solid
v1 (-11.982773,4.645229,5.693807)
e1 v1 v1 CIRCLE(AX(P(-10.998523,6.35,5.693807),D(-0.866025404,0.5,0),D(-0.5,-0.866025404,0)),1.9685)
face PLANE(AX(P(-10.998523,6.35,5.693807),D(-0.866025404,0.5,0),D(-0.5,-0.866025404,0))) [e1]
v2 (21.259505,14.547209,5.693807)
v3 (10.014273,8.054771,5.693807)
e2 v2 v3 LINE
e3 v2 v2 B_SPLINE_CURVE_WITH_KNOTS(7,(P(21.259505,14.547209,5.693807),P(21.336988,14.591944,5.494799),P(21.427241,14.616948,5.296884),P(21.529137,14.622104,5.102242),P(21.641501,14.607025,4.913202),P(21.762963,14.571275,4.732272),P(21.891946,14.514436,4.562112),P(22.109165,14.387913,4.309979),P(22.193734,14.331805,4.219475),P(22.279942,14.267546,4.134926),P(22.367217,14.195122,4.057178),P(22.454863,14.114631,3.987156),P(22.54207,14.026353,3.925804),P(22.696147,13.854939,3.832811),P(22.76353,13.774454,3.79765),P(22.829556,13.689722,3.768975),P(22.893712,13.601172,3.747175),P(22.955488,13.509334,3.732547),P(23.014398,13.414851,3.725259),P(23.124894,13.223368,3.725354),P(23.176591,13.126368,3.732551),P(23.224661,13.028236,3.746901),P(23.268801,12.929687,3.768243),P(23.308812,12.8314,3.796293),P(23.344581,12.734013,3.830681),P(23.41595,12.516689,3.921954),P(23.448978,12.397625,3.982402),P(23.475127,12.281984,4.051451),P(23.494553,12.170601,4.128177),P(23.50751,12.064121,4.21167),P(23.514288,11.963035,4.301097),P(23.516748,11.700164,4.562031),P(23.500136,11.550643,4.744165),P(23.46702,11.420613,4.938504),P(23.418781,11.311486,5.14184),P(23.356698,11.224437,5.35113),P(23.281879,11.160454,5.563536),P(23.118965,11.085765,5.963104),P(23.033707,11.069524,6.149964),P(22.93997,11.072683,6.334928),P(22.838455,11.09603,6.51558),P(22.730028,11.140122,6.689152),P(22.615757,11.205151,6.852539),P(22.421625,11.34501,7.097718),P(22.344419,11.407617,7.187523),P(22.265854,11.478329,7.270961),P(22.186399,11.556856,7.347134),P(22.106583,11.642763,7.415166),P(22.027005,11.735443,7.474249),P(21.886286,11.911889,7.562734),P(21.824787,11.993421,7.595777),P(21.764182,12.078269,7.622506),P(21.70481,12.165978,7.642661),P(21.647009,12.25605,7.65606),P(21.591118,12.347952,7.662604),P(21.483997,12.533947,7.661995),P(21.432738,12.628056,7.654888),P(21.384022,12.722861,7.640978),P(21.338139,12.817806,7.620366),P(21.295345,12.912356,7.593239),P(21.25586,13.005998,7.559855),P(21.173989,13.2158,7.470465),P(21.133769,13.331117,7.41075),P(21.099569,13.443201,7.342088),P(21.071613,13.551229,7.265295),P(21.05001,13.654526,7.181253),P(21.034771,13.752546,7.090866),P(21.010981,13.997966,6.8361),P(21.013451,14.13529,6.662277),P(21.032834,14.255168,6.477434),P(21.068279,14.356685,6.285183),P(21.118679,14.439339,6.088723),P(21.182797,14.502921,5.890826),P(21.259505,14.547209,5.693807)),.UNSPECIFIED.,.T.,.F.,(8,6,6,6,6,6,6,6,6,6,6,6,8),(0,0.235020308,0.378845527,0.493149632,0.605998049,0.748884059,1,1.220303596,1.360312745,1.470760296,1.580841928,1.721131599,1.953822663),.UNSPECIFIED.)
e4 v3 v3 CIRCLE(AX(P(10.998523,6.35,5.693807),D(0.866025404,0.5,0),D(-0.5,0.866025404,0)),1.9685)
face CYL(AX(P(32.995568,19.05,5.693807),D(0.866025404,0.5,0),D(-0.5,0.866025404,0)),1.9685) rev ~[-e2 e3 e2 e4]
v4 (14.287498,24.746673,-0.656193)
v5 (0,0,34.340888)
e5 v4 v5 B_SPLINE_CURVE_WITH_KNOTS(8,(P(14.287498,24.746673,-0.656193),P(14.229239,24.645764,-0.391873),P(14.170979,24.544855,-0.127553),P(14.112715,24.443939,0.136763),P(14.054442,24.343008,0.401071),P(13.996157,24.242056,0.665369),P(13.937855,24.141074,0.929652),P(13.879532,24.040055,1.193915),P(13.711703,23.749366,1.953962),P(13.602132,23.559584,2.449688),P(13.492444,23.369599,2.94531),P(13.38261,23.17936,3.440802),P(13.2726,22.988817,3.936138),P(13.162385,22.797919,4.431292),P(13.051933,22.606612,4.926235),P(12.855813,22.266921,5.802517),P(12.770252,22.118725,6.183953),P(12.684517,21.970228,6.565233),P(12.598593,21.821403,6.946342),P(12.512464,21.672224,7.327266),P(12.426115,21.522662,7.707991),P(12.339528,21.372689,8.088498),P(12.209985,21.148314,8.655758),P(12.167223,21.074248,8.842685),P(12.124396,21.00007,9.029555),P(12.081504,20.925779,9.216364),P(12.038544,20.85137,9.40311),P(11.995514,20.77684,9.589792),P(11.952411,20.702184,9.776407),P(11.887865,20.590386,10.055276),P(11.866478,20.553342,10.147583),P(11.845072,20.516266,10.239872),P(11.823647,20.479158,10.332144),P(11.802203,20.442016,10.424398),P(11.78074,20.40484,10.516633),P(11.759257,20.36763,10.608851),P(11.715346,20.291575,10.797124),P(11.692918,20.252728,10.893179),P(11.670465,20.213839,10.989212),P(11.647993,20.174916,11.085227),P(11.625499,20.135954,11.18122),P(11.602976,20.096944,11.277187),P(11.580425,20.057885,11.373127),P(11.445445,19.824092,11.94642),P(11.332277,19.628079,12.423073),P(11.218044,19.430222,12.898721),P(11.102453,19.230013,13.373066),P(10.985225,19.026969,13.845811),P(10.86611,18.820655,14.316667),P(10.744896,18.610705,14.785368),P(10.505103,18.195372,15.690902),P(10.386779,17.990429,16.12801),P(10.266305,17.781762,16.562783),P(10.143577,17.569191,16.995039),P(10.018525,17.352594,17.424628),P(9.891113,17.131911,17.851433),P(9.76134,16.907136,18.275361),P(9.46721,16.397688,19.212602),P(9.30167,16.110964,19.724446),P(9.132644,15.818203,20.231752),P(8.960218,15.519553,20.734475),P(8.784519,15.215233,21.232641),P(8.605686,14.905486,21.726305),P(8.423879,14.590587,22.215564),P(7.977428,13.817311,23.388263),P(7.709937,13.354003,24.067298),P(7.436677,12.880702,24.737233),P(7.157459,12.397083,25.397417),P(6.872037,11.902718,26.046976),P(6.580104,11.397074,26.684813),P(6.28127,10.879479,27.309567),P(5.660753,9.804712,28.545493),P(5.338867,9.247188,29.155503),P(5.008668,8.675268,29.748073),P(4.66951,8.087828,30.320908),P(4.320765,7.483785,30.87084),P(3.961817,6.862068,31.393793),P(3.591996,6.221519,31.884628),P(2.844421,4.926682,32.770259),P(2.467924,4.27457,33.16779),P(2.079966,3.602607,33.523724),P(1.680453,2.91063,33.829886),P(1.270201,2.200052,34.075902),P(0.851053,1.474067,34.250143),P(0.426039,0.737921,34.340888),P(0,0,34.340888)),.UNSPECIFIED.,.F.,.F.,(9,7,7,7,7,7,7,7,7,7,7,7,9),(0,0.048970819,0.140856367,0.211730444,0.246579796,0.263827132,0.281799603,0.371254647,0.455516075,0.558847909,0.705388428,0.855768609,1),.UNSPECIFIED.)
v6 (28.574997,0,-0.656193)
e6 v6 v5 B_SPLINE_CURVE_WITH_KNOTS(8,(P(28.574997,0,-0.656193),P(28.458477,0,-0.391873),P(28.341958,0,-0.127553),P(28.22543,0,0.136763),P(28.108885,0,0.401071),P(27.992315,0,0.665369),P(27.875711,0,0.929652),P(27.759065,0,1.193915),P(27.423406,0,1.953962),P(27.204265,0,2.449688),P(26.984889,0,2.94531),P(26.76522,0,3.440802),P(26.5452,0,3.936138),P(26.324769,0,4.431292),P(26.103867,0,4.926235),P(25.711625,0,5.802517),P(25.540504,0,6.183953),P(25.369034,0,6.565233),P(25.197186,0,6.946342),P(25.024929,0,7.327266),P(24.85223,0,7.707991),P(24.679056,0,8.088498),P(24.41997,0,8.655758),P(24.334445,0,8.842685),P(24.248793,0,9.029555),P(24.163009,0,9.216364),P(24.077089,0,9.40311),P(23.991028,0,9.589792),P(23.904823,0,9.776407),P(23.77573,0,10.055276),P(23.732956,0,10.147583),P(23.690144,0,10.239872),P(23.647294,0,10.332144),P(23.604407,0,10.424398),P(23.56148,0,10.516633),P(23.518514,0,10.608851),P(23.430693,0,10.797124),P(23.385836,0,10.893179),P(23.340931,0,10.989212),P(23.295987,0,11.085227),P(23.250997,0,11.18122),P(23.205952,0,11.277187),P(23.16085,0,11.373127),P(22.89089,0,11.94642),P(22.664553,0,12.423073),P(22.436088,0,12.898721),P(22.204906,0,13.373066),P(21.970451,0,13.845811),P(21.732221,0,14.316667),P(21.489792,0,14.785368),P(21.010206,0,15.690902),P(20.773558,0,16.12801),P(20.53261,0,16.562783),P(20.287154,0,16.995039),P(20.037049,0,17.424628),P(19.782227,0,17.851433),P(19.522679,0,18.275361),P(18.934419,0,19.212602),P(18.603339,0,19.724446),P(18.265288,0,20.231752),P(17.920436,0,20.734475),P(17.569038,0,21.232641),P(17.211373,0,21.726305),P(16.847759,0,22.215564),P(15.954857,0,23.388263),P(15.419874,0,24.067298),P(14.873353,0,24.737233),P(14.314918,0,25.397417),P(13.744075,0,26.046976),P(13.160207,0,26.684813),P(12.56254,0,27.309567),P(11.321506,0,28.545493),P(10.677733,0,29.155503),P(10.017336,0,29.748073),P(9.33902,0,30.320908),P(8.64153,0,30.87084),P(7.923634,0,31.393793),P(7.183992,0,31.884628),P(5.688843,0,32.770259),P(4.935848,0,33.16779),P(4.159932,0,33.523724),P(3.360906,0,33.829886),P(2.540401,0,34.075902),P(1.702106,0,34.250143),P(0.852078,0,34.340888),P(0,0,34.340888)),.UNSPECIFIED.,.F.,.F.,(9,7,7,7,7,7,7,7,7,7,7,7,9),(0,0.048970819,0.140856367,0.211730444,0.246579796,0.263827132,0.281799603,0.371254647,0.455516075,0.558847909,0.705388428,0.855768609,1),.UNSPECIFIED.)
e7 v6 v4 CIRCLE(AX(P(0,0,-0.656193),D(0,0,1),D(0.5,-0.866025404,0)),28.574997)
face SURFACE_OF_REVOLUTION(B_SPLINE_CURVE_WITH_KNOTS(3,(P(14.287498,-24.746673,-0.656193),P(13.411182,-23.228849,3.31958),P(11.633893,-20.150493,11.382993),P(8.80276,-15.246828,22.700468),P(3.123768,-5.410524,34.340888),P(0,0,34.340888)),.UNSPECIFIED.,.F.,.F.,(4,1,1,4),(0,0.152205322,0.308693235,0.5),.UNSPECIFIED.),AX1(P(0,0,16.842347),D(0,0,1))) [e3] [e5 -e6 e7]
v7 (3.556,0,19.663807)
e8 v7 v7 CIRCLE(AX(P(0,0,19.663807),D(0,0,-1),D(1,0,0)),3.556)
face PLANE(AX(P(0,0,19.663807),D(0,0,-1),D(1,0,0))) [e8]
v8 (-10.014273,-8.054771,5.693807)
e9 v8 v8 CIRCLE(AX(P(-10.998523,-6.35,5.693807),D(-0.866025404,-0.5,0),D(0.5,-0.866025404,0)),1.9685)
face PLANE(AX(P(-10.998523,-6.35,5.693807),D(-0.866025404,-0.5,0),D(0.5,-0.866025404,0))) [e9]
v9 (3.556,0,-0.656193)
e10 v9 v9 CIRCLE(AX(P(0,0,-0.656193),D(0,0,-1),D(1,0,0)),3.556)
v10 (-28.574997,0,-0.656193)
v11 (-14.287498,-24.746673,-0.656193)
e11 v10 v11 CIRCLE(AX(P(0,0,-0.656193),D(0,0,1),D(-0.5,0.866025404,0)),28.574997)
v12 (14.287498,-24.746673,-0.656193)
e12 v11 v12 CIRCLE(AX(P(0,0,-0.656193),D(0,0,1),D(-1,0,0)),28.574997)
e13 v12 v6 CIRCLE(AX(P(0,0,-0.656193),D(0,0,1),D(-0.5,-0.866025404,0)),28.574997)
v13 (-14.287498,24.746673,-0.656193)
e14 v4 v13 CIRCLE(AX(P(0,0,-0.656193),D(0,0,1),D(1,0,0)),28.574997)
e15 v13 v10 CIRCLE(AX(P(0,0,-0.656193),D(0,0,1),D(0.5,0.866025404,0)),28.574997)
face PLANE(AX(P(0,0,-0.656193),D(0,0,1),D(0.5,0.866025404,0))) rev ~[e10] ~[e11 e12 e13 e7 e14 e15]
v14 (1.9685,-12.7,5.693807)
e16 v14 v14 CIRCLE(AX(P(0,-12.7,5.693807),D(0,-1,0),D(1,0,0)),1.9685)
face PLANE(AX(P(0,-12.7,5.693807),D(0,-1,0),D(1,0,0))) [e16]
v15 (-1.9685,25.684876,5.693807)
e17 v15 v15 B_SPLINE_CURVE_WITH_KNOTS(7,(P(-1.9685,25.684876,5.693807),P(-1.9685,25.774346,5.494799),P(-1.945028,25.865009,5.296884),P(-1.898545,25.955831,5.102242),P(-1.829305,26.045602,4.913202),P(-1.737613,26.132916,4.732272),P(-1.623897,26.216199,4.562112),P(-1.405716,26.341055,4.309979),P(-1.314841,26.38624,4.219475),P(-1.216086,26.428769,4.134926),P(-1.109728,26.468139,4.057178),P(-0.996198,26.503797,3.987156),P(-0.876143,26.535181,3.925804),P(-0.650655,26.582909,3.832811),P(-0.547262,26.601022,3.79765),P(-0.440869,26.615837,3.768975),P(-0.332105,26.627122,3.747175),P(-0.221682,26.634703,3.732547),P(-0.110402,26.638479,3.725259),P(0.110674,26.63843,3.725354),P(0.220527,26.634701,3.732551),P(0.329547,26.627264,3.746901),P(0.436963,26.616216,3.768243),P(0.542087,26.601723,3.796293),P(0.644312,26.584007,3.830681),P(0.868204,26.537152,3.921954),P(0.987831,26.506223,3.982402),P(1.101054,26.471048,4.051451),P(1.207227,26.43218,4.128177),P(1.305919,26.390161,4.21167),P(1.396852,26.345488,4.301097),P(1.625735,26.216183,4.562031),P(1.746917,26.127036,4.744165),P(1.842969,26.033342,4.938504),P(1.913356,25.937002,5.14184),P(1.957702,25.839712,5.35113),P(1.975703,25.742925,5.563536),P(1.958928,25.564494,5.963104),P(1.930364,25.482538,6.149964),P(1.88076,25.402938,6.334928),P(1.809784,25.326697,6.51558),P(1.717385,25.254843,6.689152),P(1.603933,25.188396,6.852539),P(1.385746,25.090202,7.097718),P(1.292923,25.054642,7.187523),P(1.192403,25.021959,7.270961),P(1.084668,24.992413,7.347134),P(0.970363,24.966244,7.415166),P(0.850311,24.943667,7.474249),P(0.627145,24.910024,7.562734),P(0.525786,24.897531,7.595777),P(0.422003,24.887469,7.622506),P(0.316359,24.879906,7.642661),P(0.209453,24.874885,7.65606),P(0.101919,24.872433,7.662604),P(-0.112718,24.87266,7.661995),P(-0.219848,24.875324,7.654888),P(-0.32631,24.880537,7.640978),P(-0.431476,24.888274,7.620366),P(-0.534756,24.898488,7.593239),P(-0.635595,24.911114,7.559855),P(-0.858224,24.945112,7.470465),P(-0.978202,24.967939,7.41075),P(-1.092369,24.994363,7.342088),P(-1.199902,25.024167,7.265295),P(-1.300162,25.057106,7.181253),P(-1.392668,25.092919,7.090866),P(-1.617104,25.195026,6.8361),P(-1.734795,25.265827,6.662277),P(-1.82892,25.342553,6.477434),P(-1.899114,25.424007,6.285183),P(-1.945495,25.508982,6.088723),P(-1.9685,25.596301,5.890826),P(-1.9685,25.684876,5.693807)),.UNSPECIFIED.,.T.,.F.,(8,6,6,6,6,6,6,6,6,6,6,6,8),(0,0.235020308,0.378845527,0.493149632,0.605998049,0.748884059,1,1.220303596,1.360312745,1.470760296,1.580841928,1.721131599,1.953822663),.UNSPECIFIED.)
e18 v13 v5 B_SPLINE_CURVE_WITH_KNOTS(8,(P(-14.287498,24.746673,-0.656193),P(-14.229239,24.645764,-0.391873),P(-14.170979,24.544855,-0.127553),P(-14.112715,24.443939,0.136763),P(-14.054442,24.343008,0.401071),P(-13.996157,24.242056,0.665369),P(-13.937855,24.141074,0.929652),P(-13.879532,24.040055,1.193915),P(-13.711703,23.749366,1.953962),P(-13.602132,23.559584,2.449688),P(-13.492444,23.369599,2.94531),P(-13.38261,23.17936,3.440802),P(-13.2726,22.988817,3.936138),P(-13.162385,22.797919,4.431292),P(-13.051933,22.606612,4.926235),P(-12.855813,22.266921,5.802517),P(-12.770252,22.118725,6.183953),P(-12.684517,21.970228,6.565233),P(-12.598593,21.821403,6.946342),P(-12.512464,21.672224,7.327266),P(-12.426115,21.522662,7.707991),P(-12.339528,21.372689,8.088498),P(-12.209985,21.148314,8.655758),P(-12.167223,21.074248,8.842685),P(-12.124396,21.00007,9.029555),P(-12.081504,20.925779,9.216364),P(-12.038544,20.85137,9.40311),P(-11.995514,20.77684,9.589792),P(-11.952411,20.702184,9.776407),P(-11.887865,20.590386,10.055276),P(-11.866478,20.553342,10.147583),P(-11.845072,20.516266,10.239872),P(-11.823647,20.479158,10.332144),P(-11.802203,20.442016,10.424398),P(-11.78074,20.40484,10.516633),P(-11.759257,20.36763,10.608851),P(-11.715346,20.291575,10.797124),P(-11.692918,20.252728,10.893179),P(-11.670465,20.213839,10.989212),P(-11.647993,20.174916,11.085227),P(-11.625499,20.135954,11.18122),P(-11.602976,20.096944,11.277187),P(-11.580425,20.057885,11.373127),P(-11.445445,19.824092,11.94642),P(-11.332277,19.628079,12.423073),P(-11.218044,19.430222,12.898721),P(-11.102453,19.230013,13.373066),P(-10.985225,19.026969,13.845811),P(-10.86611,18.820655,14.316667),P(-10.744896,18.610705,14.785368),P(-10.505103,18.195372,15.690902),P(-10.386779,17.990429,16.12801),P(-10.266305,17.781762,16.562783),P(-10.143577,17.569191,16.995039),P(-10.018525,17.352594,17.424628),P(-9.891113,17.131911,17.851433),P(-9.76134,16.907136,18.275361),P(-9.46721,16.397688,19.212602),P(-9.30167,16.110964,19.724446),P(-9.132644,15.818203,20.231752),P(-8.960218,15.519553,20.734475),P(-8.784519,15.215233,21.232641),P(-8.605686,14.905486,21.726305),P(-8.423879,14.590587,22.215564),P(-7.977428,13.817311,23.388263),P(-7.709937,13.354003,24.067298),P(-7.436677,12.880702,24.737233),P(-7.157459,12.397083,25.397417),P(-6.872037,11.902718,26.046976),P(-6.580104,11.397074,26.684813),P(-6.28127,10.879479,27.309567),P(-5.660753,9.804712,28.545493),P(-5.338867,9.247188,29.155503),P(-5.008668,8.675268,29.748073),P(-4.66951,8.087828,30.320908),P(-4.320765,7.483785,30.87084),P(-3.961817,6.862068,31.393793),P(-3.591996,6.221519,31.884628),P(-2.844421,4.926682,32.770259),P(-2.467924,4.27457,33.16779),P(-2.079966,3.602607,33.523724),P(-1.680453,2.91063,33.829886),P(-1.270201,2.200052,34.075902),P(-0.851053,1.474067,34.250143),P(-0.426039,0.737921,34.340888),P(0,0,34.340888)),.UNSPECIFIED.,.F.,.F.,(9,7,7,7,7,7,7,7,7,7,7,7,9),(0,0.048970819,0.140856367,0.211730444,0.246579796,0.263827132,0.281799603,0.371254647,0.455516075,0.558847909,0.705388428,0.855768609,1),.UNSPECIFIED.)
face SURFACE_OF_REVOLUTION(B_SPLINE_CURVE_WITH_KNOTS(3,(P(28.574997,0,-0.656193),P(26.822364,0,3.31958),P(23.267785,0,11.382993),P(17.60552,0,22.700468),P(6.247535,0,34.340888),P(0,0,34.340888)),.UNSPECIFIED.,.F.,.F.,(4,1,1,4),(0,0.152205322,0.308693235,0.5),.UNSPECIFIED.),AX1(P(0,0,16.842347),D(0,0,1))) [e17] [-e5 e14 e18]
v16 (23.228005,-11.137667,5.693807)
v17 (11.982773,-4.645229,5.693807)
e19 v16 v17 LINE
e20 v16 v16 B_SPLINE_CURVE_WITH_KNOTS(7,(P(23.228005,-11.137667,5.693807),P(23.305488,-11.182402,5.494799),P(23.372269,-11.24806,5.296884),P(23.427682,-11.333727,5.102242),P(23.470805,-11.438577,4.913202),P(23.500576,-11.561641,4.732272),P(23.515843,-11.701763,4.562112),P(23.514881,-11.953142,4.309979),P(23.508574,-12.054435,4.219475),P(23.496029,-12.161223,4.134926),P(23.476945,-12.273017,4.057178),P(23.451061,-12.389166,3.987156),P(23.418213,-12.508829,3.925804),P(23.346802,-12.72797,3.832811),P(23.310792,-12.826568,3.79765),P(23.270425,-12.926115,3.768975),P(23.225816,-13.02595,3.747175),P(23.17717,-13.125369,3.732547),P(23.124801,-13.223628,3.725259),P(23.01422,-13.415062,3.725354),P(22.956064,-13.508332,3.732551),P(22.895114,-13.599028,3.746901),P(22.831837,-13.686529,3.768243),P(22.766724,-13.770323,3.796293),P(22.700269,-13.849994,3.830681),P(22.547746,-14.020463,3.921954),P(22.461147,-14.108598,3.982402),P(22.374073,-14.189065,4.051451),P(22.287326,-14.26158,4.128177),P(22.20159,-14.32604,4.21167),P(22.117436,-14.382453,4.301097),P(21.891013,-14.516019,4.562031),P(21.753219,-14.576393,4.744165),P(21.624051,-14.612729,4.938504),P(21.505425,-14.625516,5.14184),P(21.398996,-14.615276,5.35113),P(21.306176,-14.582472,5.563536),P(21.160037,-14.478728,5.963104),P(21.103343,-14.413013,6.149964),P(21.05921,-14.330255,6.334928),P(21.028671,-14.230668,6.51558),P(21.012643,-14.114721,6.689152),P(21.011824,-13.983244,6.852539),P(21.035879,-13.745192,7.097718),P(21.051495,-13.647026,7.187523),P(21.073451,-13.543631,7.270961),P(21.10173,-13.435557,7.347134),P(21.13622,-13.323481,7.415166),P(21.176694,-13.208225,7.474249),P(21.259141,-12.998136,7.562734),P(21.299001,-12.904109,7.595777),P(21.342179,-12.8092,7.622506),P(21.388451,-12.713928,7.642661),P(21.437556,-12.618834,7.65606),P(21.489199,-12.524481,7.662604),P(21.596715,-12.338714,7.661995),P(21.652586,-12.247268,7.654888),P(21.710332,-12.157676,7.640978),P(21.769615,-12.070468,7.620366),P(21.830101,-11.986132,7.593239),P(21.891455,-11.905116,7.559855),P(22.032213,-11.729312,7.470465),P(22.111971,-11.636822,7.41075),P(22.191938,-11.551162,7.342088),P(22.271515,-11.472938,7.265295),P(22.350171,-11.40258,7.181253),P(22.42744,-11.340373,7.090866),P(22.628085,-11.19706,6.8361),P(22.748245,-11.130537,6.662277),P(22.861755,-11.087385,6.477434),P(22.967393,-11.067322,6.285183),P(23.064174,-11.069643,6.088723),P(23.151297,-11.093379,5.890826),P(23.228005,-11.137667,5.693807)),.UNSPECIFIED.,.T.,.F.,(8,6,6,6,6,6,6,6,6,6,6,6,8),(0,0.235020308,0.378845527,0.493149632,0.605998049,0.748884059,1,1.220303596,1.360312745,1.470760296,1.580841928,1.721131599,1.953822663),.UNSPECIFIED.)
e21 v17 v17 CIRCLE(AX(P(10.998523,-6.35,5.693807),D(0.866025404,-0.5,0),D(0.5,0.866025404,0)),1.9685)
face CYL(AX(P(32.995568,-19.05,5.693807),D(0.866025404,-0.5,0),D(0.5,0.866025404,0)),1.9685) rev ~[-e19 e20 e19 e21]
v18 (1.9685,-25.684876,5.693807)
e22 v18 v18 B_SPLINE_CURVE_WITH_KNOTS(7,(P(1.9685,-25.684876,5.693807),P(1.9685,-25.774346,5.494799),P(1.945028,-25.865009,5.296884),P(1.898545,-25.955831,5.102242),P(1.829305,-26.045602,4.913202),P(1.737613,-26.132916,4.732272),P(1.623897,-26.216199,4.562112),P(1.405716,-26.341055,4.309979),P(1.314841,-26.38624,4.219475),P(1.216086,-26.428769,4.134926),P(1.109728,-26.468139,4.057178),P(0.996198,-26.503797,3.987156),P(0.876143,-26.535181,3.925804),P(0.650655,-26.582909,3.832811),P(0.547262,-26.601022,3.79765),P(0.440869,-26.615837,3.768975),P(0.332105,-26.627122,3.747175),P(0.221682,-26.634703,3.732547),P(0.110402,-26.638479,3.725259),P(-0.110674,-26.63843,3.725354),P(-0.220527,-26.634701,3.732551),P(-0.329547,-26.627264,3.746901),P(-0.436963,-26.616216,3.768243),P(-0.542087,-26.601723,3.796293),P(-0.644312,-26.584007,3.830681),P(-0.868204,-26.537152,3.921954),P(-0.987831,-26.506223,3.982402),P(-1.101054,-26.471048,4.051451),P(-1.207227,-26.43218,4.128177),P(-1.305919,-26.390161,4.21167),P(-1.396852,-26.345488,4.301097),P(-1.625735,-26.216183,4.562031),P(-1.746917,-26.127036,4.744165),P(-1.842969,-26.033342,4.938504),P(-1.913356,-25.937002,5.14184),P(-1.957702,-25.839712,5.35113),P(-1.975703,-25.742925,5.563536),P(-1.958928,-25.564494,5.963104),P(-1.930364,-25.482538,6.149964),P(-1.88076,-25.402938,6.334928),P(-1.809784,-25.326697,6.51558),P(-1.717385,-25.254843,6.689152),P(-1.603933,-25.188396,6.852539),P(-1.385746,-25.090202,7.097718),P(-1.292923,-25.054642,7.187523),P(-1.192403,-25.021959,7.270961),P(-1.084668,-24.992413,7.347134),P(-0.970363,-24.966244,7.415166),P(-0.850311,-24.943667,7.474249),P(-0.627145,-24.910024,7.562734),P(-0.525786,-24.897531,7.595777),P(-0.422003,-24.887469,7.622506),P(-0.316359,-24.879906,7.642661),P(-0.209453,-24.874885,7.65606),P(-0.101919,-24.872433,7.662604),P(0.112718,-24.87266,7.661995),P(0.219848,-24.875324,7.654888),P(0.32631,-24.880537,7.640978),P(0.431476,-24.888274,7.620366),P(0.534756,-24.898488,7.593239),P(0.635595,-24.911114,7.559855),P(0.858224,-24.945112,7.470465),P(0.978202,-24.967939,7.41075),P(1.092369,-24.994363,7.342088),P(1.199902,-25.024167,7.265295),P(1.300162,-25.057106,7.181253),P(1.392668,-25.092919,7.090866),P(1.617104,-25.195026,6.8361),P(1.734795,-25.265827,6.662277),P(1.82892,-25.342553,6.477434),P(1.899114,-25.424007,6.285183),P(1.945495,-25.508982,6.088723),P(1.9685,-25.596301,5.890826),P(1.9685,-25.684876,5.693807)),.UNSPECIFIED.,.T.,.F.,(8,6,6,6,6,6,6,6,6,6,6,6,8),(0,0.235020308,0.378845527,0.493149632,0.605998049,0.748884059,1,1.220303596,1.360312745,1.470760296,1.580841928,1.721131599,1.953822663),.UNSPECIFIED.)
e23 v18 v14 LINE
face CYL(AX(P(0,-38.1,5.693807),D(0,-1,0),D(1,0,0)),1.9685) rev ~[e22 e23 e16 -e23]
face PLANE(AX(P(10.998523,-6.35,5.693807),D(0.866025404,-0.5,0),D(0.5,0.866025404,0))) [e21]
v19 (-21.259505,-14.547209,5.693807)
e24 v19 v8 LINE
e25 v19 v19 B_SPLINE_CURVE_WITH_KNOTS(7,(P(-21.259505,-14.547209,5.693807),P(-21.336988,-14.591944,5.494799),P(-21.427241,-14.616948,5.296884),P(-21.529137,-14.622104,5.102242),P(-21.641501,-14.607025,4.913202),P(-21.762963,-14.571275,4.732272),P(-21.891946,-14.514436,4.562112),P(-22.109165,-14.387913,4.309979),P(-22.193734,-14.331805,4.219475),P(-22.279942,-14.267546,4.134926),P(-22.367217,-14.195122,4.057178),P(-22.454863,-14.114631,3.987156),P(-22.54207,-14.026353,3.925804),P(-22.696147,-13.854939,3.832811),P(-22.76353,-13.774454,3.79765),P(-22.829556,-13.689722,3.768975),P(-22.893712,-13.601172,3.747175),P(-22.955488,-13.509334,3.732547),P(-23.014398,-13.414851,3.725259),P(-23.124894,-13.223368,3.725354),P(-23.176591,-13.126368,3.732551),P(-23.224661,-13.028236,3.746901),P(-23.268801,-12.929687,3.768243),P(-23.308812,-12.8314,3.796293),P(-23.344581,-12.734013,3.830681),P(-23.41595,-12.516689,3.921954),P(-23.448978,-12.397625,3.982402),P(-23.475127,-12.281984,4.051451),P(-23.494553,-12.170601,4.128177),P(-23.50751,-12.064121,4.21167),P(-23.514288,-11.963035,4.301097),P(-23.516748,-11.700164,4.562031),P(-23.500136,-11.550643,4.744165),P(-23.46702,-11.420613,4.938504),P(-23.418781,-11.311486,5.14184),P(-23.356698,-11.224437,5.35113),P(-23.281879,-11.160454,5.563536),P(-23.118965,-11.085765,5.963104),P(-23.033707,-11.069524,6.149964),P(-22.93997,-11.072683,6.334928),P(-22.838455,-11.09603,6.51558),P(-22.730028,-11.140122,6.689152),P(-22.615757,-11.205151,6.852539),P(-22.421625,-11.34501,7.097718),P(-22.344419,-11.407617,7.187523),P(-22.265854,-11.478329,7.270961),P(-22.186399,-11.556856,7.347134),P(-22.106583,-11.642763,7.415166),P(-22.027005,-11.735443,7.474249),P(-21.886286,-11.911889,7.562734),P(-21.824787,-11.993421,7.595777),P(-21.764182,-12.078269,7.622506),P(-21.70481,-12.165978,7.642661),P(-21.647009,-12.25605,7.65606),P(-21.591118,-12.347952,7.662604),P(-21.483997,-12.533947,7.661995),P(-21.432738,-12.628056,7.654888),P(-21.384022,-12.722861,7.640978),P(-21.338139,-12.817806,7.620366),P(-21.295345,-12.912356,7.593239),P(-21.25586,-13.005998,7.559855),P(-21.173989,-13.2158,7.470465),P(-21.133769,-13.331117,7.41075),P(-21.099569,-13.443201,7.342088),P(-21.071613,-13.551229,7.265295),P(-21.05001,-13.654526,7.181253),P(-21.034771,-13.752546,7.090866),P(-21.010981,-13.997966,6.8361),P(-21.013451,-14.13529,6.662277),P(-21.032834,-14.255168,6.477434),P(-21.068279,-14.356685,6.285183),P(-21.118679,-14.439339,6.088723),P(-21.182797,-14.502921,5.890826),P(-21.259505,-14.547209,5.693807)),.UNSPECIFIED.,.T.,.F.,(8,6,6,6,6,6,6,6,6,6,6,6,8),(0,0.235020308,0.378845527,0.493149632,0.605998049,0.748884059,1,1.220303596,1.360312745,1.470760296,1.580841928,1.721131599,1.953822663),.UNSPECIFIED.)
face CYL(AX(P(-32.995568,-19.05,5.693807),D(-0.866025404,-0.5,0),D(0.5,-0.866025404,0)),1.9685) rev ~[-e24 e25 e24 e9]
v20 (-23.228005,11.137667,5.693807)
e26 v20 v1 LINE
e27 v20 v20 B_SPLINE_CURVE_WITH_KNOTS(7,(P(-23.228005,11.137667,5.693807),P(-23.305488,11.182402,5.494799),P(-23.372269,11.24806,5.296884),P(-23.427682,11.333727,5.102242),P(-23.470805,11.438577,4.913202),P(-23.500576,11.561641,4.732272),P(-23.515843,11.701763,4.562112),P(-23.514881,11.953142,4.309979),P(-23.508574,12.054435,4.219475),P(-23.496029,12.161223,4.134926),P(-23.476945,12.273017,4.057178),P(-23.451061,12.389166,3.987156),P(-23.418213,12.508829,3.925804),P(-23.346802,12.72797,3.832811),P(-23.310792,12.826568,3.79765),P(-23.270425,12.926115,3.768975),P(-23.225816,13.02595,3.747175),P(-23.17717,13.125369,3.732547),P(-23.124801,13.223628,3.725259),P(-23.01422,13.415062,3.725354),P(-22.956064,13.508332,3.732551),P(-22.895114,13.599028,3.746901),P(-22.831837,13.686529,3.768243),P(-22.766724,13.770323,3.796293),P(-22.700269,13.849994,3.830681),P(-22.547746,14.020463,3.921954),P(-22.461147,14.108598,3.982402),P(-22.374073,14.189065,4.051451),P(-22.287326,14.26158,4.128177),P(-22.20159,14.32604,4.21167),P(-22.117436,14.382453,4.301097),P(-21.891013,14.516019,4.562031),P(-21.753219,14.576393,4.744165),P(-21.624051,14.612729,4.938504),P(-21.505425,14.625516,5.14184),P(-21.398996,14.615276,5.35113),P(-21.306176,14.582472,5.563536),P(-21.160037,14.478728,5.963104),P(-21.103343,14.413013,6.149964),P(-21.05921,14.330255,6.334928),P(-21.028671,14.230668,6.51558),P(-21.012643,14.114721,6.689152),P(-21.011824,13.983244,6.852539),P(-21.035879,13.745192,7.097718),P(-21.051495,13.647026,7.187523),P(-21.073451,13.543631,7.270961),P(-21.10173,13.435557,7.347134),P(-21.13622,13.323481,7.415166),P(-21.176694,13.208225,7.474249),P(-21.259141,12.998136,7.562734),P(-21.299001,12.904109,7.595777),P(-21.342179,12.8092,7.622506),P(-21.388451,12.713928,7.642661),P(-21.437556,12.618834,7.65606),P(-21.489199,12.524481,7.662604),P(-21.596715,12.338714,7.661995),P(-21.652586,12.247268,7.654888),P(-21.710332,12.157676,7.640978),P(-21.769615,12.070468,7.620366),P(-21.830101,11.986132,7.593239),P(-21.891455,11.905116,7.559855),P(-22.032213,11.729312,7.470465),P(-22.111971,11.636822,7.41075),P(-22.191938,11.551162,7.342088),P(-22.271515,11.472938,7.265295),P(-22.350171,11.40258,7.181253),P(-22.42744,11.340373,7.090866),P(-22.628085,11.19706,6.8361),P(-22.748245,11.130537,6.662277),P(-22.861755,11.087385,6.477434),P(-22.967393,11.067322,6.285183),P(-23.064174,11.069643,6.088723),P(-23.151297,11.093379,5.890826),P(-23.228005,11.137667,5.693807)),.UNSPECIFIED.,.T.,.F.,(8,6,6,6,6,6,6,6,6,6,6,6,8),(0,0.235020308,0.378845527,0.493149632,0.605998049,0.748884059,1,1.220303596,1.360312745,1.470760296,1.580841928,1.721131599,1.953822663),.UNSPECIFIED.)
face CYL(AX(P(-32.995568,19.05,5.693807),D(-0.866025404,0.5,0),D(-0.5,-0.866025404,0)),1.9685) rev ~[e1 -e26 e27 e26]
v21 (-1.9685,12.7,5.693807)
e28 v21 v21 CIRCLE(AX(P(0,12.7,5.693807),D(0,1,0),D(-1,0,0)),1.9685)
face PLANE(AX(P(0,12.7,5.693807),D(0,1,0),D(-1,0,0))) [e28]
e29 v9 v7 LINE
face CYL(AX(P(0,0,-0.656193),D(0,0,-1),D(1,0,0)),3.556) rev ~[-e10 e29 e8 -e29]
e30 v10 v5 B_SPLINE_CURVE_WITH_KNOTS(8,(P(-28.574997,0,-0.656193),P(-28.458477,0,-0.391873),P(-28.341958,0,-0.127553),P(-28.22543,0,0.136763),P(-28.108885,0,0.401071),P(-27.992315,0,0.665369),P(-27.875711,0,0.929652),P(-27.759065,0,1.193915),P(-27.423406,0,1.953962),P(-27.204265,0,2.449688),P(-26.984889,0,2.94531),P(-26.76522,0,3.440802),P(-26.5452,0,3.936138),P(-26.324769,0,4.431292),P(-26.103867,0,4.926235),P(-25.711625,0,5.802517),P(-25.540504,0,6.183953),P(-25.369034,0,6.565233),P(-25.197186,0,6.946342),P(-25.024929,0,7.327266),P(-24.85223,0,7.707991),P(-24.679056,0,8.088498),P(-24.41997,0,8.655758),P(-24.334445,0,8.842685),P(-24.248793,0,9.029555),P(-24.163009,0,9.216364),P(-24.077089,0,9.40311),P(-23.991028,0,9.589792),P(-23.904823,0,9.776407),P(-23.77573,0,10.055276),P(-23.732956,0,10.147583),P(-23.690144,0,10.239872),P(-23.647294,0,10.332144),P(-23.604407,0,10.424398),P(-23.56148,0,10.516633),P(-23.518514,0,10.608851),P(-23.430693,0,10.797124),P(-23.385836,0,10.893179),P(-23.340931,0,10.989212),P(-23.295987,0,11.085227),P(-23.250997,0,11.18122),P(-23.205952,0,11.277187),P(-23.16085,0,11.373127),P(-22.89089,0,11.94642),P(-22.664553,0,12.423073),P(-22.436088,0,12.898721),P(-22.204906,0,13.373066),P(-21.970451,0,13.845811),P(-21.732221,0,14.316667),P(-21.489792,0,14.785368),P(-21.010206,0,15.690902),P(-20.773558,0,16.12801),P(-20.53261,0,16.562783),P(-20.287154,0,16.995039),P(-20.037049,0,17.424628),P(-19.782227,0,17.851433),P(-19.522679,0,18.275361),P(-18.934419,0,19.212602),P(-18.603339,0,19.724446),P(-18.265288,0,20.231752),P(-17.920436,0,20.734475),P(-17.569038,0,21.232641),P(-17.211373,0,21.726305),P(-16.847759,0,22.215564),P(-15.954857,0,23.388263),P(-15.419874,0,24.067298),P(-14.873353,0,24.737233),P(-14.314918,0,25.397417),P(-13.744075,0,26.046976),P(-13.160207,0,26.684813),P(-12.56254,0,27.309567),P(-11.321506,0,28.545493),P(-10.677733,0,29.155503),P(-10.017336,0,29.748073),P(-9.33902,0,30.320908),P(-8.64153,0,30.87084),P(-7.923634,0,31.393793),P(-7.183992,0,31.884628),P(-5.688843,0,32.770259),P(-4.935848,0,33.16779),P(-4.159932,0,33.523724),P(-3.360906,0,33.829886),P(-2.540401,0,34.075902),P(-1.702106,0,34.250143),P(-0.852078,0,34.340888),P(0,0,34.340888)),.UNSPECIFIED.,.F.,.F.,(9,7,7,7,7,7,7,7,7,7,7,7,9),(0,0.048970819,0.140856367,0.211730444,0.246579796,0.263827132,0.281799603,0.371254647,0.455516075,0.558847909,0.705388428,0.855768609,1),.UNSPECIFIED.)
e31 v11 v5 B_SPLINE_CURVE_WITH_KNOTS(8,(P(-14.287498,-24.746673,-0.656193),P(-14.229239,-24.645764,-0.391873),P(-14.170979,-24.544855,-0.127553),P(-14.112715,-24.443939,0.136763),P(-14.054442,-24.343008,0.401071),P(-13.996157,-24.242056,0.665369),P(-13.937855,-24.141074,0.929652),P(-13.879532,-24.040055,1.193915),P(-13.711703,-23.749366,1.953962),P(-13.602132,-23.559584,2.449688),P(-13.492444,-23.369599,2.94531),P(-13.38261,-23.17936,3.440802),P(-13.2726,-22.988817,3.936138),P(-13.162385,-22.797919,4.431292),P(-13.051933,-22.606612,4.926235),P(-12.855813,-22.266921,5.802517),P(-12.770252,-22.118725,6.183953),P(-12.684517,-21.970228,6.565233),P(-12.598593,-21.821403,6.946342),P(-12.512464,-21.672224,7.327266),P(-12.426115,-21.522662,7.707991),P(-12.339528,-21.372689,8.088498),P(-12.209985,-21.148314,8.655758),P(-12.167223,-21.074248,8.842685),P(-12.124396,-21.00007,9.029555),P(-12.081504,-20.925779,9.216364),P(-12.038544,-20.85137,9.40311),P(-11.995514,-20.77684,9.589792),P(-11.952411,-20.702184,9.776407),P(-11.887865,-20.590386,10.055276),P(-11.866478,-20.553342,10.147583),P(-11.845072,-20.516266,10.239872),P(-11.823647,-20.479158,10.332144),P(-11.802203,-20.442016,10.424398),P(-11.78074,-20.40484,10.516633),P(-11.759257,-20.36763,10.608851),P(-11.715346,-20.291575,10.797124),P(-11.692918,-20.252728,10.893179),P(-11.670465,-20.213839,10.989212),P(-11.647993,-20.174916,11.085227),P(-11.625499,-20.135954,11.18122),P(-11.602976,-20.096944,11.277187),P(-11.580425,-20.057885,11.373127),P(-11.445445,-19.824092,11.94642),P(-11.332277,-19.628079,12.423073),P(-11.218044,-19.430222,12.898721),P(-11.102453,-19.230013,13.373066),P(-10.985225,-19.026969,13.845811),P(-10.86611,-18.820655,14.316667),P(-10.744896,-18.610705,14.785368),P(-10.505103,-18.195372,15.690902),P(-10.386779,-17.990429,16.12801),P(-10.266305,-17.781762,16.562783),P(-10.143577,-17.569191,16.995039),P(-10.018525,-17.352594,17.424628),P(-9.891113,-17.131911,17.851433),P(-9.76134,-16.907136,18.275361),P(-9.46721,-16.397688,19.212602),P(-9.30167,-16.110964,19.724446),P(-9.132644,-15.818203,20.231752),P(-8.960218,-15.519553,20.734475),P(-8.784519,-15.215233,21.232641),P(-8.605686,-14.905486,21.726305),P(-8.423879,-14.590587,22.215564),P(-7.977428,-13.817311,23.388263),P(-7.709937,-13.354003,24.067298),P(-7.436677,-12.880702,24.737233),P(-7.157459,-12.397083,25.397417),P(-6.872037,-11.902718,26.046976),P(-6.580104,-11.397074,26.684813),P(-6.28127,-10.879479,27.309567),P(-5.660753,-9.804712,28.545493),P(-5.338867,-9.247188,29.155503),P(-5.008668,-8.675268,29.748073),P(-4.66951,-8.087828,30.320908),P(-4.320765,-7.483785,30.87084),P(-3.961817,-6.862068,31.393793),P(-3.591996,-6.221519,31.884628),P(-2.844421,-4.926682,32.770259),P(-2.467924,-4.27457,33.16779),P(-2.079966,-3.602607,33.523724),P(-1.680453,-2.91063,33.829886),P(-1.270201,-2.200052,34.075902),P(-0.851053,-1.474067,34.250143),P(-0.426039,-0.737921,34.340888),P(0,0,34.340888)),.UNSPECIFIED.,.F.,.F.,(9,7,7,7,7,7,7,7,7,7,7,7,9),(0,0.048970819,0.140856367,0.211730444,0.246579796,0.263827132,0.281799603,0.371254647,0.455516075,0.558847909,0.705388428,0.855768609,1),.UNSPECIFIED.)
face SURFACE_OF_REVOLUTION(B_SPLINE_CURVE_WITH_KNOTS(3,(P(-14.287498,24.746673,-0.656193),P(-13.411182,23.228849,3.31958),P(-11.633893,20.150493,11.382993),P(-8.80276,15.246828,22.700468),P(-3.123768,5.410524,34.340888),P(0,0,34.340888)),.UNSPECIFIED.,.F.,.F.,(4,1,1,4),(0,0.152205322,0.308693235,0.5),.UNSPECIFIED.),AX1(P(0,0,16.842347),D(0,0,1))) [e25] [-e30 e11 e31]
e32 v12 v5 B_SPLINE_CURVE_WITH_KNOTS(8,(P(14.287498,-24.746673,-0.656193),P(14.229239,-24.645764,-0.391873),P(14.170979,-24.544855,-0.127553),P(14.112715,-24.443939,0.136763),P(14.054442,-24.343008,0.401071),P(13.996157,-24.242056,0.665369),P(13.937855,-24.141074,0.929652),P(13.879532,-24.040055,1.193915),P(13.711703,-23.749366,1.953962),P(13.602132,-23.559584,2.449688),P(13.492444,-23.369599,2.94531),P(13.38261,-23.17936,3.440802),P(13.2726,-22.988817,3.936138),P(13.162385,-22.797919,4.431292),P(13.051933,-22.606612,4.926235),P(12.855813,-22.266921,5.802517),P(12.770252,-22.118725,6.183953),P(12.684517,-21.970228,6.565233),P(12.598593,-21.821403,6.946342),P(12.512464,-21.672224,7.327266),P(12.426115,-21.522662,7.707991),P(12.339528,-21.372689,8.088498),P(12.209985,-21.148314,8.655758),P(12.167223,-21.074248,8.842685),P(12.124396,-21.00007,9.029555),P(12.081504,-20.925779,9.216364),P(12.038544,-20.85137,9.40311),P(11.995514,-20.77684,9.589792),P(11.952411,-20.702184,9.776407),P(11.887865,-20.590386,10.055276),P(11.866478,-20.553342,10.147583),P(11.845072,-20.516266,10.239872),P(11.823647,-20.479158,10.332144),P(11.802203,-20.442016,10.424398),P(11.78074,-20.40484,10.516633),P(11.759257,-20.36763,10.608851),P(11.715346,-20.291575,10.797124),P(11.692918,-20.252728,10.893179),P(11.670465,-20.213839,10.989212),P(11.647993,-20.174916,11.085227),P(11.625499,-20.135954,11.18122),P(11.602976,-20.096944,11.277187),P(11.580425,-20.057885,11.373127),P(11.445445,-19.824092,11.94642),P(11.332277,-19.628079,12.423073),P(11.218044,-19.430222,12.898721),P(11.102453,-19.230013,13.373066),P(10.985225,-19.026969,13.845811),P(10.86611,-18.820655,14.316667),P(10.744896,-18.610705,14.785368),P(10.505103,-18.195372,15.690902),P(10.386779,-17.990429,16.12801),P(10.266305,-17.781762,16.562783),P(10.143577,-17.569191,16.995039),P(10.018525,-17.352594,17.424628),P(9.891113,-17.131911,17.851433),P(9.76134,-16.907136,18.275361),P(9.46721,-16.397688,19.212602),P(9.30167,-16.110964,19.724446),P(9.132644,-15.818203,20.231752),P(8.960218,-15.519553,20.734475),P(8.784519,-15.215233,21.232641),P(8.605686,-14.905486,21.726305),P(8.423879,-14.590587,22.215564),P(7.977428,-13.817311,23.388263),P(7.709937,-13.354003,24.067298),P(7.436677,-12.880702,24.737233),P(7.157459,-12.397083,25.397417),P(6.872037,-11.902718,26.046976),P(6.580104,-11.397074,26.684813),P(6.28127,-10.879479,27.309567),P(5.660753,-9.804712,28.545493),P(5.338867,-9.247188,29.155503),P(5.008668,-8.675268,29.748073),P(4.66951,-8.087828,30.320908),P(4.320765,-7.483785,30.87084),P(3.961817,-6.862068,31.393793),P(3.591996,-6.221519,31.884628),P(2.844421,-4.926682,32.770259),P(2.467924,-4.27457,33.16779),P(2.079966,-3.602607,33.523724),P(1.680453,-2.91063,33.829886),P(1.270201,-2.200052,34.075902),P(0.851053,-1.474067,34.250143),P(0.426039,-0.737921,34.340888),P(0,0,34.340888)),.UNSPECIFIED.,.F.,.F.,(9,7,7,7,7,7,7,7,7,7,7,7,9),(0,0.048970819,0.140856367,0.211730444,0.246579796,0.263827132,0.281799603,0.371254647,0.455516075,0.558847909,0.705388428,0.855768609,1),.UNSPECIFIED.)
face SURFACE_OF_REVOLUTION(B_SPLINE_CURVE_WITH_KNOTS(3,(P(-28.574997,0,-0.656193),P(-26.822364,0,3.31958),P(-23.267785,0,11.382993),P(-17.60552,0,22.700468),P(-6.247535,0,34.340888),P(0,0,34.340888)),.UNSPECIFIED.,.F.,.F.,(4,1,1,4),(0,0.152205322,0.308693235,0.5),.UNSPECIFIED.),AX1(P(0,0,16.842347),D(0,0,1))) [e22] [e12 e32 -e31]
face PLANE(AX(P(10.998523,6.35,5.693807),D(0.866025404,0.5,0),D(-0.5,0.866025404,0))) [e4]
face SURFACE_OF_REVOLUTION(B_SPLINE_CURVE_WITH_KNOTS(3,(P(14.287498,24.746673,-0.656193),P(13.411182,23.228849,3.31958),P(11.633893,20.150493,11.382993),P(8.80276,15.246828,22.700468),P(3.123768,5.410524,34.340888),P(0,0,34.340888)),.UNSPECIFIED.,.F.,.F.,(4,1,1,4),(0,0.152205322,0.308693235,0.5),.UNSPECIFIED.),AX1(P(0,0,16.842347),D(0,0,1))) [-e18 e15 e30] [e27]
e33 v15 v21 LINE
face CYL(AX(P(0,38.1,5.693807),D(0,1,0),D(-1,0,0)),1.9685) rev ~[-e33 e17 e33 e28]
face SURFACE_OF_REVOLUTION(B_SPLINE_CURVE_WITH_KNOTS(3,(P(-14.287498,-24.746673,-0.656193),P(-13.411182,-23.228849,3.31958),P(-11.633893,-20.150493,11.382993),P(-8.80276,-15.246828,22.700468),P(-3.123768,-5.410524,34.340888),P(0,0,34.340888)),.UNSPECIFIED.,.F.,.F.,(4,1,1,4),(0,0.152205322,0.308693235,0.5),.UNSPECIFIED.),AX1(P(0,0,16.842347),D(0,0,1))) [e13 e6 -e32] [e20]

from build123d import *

# Parameters (mm, degrees)
F2_SCALE  = 1.7860860832
F3_SCALE  = 1.2857142857
F5_DEPTH  = 127
F7_R      = 1.9685
F8_DEPTH  = 25.4
F10_COUNT = 6
F12_R     = 3.556
F13_DEPTH = 20.32


with BuildPart() as f1:
    # F0 (on Front) → F1 (revolve)
    with BuildSketch(Plane.XZ):
        with BuildLine():
            add(Edge.make_bspline(
                [(-12.4434078933, -0.2857490592), (-11.6801978814, 1.4455605736), (-10.132303464, 4.9568935924), (-7.6665859487, 9.8852568378), (-2.720582136, 14.9542509408), (0, 14.9542509408)],
                knots=[0, 0, 0, 0, 0.1522053216, 0.308693235, 0.5, 0.5, 0.5, 0.5], degree=3))
            Line((-12.4434078933, -0.2857490592), (0, -0.2857490592))
            Line((0, -0.2857490592), (0, 14.9542509408))
        make_face()
    revolve(axis=Axis((0, 0, 7.3342509408), (0, 0, 1)))


with BuildPart() as f1_1:
    # F2: moved
    add(f1.part.scale(F2_SCALE))


with BuildPart() as f1_2:
    # F3: moved
    add(f1_1.part.scale(F3_SCALE))

    # F4 (on face) → F5 (cut)
    with BuildSketch(Plane(origin=(0, 0, -0.6561931088), x_dir=(1, 0, 0), z_dir=(0, 0, -1))):
        with BuildLine():
            Line((14.2874984997, 24.7466733145), (0, 0))
            Line((0, 0), (-14.2874984997, 24.7466733145))
            ThreePointArc((-14.2874984997, 24.7466733145), (-14.2874984997, -24.7466733145), (28.5749969994, 0))
            ThreePointArc((28.5749969994, 0), (24.7466733145, 14.2874984997), (14.2874984997, 24.7466733145))
        make_face()
    extrude(amount=-F5_DEPTH, mode=Mode.SUBTRACT)

    # F7 (on offset) → F8 (cut)
    with BuildSketch(Plane.XZ.offset(38.1)):
        with Locations((0, 5.6938068912)):
            Circle(F7_R)
    extrude(amount=-F8_DEPTH, mode=Mode.SUBTRACT)


with BuildPart() as f10_1:
    # F10: instance of F1
    add(f1_2.part.rotate(Axis((0, 0, 23.0994801968), (0, 0, 1)), 1 * 360 / F10_COUNT))


with BuildPart() as f10_2:
    # F10: instance of F1
    add(f1_2.part.rotate(Axis((0, 0, 23.0994801968), (0, 0, 1)), 2 * 360 / F10_COUNT))


with BuildPart() as f10_3:
    # F10: instance of F1
    add(f1_2.part.rotate(Axis((0, 0, 23.0994801968), (0, 0, 1)), 3 * 360 / F10_COUNT))


with BuildPart() as f10_4:
    # F10: instance of F1
    add(f1_2.part.rotate(Axis((0, 0, 23.0994801968), (0, 0, 1)), 4 * 360 / F10_COUNT))


with BuildPart() as f10_5:
    # F10: instance of F1
    add(f1_2.part.rotate(Axis((0, 0, 23.0994801968), (0, 0, 1)), 5 * 360 / F10_COUNT))


with BuildPart() as f1_3:
    add(f1_2.part)

    # F11: union F10_2, F10_1, F10_5, F10_3, F10_4
    add(f10_2.part)
    add(f10_1.part)
    add(f10_5.part)
    add(f10_3.part)
    add(f10_4.part)

    # F12 (on face) → F13 (cut)
    with BuildSketch(Plane(origin=(0, 0, -0.6561931088), x_dir=(1, 0, 0), z_dir=(0, 0, -1))):
        Circle(F12_R)
    extrude(amount=-F13_DEPTH, mode=Mode.SUBTRACT)


solid = f1_3.part
